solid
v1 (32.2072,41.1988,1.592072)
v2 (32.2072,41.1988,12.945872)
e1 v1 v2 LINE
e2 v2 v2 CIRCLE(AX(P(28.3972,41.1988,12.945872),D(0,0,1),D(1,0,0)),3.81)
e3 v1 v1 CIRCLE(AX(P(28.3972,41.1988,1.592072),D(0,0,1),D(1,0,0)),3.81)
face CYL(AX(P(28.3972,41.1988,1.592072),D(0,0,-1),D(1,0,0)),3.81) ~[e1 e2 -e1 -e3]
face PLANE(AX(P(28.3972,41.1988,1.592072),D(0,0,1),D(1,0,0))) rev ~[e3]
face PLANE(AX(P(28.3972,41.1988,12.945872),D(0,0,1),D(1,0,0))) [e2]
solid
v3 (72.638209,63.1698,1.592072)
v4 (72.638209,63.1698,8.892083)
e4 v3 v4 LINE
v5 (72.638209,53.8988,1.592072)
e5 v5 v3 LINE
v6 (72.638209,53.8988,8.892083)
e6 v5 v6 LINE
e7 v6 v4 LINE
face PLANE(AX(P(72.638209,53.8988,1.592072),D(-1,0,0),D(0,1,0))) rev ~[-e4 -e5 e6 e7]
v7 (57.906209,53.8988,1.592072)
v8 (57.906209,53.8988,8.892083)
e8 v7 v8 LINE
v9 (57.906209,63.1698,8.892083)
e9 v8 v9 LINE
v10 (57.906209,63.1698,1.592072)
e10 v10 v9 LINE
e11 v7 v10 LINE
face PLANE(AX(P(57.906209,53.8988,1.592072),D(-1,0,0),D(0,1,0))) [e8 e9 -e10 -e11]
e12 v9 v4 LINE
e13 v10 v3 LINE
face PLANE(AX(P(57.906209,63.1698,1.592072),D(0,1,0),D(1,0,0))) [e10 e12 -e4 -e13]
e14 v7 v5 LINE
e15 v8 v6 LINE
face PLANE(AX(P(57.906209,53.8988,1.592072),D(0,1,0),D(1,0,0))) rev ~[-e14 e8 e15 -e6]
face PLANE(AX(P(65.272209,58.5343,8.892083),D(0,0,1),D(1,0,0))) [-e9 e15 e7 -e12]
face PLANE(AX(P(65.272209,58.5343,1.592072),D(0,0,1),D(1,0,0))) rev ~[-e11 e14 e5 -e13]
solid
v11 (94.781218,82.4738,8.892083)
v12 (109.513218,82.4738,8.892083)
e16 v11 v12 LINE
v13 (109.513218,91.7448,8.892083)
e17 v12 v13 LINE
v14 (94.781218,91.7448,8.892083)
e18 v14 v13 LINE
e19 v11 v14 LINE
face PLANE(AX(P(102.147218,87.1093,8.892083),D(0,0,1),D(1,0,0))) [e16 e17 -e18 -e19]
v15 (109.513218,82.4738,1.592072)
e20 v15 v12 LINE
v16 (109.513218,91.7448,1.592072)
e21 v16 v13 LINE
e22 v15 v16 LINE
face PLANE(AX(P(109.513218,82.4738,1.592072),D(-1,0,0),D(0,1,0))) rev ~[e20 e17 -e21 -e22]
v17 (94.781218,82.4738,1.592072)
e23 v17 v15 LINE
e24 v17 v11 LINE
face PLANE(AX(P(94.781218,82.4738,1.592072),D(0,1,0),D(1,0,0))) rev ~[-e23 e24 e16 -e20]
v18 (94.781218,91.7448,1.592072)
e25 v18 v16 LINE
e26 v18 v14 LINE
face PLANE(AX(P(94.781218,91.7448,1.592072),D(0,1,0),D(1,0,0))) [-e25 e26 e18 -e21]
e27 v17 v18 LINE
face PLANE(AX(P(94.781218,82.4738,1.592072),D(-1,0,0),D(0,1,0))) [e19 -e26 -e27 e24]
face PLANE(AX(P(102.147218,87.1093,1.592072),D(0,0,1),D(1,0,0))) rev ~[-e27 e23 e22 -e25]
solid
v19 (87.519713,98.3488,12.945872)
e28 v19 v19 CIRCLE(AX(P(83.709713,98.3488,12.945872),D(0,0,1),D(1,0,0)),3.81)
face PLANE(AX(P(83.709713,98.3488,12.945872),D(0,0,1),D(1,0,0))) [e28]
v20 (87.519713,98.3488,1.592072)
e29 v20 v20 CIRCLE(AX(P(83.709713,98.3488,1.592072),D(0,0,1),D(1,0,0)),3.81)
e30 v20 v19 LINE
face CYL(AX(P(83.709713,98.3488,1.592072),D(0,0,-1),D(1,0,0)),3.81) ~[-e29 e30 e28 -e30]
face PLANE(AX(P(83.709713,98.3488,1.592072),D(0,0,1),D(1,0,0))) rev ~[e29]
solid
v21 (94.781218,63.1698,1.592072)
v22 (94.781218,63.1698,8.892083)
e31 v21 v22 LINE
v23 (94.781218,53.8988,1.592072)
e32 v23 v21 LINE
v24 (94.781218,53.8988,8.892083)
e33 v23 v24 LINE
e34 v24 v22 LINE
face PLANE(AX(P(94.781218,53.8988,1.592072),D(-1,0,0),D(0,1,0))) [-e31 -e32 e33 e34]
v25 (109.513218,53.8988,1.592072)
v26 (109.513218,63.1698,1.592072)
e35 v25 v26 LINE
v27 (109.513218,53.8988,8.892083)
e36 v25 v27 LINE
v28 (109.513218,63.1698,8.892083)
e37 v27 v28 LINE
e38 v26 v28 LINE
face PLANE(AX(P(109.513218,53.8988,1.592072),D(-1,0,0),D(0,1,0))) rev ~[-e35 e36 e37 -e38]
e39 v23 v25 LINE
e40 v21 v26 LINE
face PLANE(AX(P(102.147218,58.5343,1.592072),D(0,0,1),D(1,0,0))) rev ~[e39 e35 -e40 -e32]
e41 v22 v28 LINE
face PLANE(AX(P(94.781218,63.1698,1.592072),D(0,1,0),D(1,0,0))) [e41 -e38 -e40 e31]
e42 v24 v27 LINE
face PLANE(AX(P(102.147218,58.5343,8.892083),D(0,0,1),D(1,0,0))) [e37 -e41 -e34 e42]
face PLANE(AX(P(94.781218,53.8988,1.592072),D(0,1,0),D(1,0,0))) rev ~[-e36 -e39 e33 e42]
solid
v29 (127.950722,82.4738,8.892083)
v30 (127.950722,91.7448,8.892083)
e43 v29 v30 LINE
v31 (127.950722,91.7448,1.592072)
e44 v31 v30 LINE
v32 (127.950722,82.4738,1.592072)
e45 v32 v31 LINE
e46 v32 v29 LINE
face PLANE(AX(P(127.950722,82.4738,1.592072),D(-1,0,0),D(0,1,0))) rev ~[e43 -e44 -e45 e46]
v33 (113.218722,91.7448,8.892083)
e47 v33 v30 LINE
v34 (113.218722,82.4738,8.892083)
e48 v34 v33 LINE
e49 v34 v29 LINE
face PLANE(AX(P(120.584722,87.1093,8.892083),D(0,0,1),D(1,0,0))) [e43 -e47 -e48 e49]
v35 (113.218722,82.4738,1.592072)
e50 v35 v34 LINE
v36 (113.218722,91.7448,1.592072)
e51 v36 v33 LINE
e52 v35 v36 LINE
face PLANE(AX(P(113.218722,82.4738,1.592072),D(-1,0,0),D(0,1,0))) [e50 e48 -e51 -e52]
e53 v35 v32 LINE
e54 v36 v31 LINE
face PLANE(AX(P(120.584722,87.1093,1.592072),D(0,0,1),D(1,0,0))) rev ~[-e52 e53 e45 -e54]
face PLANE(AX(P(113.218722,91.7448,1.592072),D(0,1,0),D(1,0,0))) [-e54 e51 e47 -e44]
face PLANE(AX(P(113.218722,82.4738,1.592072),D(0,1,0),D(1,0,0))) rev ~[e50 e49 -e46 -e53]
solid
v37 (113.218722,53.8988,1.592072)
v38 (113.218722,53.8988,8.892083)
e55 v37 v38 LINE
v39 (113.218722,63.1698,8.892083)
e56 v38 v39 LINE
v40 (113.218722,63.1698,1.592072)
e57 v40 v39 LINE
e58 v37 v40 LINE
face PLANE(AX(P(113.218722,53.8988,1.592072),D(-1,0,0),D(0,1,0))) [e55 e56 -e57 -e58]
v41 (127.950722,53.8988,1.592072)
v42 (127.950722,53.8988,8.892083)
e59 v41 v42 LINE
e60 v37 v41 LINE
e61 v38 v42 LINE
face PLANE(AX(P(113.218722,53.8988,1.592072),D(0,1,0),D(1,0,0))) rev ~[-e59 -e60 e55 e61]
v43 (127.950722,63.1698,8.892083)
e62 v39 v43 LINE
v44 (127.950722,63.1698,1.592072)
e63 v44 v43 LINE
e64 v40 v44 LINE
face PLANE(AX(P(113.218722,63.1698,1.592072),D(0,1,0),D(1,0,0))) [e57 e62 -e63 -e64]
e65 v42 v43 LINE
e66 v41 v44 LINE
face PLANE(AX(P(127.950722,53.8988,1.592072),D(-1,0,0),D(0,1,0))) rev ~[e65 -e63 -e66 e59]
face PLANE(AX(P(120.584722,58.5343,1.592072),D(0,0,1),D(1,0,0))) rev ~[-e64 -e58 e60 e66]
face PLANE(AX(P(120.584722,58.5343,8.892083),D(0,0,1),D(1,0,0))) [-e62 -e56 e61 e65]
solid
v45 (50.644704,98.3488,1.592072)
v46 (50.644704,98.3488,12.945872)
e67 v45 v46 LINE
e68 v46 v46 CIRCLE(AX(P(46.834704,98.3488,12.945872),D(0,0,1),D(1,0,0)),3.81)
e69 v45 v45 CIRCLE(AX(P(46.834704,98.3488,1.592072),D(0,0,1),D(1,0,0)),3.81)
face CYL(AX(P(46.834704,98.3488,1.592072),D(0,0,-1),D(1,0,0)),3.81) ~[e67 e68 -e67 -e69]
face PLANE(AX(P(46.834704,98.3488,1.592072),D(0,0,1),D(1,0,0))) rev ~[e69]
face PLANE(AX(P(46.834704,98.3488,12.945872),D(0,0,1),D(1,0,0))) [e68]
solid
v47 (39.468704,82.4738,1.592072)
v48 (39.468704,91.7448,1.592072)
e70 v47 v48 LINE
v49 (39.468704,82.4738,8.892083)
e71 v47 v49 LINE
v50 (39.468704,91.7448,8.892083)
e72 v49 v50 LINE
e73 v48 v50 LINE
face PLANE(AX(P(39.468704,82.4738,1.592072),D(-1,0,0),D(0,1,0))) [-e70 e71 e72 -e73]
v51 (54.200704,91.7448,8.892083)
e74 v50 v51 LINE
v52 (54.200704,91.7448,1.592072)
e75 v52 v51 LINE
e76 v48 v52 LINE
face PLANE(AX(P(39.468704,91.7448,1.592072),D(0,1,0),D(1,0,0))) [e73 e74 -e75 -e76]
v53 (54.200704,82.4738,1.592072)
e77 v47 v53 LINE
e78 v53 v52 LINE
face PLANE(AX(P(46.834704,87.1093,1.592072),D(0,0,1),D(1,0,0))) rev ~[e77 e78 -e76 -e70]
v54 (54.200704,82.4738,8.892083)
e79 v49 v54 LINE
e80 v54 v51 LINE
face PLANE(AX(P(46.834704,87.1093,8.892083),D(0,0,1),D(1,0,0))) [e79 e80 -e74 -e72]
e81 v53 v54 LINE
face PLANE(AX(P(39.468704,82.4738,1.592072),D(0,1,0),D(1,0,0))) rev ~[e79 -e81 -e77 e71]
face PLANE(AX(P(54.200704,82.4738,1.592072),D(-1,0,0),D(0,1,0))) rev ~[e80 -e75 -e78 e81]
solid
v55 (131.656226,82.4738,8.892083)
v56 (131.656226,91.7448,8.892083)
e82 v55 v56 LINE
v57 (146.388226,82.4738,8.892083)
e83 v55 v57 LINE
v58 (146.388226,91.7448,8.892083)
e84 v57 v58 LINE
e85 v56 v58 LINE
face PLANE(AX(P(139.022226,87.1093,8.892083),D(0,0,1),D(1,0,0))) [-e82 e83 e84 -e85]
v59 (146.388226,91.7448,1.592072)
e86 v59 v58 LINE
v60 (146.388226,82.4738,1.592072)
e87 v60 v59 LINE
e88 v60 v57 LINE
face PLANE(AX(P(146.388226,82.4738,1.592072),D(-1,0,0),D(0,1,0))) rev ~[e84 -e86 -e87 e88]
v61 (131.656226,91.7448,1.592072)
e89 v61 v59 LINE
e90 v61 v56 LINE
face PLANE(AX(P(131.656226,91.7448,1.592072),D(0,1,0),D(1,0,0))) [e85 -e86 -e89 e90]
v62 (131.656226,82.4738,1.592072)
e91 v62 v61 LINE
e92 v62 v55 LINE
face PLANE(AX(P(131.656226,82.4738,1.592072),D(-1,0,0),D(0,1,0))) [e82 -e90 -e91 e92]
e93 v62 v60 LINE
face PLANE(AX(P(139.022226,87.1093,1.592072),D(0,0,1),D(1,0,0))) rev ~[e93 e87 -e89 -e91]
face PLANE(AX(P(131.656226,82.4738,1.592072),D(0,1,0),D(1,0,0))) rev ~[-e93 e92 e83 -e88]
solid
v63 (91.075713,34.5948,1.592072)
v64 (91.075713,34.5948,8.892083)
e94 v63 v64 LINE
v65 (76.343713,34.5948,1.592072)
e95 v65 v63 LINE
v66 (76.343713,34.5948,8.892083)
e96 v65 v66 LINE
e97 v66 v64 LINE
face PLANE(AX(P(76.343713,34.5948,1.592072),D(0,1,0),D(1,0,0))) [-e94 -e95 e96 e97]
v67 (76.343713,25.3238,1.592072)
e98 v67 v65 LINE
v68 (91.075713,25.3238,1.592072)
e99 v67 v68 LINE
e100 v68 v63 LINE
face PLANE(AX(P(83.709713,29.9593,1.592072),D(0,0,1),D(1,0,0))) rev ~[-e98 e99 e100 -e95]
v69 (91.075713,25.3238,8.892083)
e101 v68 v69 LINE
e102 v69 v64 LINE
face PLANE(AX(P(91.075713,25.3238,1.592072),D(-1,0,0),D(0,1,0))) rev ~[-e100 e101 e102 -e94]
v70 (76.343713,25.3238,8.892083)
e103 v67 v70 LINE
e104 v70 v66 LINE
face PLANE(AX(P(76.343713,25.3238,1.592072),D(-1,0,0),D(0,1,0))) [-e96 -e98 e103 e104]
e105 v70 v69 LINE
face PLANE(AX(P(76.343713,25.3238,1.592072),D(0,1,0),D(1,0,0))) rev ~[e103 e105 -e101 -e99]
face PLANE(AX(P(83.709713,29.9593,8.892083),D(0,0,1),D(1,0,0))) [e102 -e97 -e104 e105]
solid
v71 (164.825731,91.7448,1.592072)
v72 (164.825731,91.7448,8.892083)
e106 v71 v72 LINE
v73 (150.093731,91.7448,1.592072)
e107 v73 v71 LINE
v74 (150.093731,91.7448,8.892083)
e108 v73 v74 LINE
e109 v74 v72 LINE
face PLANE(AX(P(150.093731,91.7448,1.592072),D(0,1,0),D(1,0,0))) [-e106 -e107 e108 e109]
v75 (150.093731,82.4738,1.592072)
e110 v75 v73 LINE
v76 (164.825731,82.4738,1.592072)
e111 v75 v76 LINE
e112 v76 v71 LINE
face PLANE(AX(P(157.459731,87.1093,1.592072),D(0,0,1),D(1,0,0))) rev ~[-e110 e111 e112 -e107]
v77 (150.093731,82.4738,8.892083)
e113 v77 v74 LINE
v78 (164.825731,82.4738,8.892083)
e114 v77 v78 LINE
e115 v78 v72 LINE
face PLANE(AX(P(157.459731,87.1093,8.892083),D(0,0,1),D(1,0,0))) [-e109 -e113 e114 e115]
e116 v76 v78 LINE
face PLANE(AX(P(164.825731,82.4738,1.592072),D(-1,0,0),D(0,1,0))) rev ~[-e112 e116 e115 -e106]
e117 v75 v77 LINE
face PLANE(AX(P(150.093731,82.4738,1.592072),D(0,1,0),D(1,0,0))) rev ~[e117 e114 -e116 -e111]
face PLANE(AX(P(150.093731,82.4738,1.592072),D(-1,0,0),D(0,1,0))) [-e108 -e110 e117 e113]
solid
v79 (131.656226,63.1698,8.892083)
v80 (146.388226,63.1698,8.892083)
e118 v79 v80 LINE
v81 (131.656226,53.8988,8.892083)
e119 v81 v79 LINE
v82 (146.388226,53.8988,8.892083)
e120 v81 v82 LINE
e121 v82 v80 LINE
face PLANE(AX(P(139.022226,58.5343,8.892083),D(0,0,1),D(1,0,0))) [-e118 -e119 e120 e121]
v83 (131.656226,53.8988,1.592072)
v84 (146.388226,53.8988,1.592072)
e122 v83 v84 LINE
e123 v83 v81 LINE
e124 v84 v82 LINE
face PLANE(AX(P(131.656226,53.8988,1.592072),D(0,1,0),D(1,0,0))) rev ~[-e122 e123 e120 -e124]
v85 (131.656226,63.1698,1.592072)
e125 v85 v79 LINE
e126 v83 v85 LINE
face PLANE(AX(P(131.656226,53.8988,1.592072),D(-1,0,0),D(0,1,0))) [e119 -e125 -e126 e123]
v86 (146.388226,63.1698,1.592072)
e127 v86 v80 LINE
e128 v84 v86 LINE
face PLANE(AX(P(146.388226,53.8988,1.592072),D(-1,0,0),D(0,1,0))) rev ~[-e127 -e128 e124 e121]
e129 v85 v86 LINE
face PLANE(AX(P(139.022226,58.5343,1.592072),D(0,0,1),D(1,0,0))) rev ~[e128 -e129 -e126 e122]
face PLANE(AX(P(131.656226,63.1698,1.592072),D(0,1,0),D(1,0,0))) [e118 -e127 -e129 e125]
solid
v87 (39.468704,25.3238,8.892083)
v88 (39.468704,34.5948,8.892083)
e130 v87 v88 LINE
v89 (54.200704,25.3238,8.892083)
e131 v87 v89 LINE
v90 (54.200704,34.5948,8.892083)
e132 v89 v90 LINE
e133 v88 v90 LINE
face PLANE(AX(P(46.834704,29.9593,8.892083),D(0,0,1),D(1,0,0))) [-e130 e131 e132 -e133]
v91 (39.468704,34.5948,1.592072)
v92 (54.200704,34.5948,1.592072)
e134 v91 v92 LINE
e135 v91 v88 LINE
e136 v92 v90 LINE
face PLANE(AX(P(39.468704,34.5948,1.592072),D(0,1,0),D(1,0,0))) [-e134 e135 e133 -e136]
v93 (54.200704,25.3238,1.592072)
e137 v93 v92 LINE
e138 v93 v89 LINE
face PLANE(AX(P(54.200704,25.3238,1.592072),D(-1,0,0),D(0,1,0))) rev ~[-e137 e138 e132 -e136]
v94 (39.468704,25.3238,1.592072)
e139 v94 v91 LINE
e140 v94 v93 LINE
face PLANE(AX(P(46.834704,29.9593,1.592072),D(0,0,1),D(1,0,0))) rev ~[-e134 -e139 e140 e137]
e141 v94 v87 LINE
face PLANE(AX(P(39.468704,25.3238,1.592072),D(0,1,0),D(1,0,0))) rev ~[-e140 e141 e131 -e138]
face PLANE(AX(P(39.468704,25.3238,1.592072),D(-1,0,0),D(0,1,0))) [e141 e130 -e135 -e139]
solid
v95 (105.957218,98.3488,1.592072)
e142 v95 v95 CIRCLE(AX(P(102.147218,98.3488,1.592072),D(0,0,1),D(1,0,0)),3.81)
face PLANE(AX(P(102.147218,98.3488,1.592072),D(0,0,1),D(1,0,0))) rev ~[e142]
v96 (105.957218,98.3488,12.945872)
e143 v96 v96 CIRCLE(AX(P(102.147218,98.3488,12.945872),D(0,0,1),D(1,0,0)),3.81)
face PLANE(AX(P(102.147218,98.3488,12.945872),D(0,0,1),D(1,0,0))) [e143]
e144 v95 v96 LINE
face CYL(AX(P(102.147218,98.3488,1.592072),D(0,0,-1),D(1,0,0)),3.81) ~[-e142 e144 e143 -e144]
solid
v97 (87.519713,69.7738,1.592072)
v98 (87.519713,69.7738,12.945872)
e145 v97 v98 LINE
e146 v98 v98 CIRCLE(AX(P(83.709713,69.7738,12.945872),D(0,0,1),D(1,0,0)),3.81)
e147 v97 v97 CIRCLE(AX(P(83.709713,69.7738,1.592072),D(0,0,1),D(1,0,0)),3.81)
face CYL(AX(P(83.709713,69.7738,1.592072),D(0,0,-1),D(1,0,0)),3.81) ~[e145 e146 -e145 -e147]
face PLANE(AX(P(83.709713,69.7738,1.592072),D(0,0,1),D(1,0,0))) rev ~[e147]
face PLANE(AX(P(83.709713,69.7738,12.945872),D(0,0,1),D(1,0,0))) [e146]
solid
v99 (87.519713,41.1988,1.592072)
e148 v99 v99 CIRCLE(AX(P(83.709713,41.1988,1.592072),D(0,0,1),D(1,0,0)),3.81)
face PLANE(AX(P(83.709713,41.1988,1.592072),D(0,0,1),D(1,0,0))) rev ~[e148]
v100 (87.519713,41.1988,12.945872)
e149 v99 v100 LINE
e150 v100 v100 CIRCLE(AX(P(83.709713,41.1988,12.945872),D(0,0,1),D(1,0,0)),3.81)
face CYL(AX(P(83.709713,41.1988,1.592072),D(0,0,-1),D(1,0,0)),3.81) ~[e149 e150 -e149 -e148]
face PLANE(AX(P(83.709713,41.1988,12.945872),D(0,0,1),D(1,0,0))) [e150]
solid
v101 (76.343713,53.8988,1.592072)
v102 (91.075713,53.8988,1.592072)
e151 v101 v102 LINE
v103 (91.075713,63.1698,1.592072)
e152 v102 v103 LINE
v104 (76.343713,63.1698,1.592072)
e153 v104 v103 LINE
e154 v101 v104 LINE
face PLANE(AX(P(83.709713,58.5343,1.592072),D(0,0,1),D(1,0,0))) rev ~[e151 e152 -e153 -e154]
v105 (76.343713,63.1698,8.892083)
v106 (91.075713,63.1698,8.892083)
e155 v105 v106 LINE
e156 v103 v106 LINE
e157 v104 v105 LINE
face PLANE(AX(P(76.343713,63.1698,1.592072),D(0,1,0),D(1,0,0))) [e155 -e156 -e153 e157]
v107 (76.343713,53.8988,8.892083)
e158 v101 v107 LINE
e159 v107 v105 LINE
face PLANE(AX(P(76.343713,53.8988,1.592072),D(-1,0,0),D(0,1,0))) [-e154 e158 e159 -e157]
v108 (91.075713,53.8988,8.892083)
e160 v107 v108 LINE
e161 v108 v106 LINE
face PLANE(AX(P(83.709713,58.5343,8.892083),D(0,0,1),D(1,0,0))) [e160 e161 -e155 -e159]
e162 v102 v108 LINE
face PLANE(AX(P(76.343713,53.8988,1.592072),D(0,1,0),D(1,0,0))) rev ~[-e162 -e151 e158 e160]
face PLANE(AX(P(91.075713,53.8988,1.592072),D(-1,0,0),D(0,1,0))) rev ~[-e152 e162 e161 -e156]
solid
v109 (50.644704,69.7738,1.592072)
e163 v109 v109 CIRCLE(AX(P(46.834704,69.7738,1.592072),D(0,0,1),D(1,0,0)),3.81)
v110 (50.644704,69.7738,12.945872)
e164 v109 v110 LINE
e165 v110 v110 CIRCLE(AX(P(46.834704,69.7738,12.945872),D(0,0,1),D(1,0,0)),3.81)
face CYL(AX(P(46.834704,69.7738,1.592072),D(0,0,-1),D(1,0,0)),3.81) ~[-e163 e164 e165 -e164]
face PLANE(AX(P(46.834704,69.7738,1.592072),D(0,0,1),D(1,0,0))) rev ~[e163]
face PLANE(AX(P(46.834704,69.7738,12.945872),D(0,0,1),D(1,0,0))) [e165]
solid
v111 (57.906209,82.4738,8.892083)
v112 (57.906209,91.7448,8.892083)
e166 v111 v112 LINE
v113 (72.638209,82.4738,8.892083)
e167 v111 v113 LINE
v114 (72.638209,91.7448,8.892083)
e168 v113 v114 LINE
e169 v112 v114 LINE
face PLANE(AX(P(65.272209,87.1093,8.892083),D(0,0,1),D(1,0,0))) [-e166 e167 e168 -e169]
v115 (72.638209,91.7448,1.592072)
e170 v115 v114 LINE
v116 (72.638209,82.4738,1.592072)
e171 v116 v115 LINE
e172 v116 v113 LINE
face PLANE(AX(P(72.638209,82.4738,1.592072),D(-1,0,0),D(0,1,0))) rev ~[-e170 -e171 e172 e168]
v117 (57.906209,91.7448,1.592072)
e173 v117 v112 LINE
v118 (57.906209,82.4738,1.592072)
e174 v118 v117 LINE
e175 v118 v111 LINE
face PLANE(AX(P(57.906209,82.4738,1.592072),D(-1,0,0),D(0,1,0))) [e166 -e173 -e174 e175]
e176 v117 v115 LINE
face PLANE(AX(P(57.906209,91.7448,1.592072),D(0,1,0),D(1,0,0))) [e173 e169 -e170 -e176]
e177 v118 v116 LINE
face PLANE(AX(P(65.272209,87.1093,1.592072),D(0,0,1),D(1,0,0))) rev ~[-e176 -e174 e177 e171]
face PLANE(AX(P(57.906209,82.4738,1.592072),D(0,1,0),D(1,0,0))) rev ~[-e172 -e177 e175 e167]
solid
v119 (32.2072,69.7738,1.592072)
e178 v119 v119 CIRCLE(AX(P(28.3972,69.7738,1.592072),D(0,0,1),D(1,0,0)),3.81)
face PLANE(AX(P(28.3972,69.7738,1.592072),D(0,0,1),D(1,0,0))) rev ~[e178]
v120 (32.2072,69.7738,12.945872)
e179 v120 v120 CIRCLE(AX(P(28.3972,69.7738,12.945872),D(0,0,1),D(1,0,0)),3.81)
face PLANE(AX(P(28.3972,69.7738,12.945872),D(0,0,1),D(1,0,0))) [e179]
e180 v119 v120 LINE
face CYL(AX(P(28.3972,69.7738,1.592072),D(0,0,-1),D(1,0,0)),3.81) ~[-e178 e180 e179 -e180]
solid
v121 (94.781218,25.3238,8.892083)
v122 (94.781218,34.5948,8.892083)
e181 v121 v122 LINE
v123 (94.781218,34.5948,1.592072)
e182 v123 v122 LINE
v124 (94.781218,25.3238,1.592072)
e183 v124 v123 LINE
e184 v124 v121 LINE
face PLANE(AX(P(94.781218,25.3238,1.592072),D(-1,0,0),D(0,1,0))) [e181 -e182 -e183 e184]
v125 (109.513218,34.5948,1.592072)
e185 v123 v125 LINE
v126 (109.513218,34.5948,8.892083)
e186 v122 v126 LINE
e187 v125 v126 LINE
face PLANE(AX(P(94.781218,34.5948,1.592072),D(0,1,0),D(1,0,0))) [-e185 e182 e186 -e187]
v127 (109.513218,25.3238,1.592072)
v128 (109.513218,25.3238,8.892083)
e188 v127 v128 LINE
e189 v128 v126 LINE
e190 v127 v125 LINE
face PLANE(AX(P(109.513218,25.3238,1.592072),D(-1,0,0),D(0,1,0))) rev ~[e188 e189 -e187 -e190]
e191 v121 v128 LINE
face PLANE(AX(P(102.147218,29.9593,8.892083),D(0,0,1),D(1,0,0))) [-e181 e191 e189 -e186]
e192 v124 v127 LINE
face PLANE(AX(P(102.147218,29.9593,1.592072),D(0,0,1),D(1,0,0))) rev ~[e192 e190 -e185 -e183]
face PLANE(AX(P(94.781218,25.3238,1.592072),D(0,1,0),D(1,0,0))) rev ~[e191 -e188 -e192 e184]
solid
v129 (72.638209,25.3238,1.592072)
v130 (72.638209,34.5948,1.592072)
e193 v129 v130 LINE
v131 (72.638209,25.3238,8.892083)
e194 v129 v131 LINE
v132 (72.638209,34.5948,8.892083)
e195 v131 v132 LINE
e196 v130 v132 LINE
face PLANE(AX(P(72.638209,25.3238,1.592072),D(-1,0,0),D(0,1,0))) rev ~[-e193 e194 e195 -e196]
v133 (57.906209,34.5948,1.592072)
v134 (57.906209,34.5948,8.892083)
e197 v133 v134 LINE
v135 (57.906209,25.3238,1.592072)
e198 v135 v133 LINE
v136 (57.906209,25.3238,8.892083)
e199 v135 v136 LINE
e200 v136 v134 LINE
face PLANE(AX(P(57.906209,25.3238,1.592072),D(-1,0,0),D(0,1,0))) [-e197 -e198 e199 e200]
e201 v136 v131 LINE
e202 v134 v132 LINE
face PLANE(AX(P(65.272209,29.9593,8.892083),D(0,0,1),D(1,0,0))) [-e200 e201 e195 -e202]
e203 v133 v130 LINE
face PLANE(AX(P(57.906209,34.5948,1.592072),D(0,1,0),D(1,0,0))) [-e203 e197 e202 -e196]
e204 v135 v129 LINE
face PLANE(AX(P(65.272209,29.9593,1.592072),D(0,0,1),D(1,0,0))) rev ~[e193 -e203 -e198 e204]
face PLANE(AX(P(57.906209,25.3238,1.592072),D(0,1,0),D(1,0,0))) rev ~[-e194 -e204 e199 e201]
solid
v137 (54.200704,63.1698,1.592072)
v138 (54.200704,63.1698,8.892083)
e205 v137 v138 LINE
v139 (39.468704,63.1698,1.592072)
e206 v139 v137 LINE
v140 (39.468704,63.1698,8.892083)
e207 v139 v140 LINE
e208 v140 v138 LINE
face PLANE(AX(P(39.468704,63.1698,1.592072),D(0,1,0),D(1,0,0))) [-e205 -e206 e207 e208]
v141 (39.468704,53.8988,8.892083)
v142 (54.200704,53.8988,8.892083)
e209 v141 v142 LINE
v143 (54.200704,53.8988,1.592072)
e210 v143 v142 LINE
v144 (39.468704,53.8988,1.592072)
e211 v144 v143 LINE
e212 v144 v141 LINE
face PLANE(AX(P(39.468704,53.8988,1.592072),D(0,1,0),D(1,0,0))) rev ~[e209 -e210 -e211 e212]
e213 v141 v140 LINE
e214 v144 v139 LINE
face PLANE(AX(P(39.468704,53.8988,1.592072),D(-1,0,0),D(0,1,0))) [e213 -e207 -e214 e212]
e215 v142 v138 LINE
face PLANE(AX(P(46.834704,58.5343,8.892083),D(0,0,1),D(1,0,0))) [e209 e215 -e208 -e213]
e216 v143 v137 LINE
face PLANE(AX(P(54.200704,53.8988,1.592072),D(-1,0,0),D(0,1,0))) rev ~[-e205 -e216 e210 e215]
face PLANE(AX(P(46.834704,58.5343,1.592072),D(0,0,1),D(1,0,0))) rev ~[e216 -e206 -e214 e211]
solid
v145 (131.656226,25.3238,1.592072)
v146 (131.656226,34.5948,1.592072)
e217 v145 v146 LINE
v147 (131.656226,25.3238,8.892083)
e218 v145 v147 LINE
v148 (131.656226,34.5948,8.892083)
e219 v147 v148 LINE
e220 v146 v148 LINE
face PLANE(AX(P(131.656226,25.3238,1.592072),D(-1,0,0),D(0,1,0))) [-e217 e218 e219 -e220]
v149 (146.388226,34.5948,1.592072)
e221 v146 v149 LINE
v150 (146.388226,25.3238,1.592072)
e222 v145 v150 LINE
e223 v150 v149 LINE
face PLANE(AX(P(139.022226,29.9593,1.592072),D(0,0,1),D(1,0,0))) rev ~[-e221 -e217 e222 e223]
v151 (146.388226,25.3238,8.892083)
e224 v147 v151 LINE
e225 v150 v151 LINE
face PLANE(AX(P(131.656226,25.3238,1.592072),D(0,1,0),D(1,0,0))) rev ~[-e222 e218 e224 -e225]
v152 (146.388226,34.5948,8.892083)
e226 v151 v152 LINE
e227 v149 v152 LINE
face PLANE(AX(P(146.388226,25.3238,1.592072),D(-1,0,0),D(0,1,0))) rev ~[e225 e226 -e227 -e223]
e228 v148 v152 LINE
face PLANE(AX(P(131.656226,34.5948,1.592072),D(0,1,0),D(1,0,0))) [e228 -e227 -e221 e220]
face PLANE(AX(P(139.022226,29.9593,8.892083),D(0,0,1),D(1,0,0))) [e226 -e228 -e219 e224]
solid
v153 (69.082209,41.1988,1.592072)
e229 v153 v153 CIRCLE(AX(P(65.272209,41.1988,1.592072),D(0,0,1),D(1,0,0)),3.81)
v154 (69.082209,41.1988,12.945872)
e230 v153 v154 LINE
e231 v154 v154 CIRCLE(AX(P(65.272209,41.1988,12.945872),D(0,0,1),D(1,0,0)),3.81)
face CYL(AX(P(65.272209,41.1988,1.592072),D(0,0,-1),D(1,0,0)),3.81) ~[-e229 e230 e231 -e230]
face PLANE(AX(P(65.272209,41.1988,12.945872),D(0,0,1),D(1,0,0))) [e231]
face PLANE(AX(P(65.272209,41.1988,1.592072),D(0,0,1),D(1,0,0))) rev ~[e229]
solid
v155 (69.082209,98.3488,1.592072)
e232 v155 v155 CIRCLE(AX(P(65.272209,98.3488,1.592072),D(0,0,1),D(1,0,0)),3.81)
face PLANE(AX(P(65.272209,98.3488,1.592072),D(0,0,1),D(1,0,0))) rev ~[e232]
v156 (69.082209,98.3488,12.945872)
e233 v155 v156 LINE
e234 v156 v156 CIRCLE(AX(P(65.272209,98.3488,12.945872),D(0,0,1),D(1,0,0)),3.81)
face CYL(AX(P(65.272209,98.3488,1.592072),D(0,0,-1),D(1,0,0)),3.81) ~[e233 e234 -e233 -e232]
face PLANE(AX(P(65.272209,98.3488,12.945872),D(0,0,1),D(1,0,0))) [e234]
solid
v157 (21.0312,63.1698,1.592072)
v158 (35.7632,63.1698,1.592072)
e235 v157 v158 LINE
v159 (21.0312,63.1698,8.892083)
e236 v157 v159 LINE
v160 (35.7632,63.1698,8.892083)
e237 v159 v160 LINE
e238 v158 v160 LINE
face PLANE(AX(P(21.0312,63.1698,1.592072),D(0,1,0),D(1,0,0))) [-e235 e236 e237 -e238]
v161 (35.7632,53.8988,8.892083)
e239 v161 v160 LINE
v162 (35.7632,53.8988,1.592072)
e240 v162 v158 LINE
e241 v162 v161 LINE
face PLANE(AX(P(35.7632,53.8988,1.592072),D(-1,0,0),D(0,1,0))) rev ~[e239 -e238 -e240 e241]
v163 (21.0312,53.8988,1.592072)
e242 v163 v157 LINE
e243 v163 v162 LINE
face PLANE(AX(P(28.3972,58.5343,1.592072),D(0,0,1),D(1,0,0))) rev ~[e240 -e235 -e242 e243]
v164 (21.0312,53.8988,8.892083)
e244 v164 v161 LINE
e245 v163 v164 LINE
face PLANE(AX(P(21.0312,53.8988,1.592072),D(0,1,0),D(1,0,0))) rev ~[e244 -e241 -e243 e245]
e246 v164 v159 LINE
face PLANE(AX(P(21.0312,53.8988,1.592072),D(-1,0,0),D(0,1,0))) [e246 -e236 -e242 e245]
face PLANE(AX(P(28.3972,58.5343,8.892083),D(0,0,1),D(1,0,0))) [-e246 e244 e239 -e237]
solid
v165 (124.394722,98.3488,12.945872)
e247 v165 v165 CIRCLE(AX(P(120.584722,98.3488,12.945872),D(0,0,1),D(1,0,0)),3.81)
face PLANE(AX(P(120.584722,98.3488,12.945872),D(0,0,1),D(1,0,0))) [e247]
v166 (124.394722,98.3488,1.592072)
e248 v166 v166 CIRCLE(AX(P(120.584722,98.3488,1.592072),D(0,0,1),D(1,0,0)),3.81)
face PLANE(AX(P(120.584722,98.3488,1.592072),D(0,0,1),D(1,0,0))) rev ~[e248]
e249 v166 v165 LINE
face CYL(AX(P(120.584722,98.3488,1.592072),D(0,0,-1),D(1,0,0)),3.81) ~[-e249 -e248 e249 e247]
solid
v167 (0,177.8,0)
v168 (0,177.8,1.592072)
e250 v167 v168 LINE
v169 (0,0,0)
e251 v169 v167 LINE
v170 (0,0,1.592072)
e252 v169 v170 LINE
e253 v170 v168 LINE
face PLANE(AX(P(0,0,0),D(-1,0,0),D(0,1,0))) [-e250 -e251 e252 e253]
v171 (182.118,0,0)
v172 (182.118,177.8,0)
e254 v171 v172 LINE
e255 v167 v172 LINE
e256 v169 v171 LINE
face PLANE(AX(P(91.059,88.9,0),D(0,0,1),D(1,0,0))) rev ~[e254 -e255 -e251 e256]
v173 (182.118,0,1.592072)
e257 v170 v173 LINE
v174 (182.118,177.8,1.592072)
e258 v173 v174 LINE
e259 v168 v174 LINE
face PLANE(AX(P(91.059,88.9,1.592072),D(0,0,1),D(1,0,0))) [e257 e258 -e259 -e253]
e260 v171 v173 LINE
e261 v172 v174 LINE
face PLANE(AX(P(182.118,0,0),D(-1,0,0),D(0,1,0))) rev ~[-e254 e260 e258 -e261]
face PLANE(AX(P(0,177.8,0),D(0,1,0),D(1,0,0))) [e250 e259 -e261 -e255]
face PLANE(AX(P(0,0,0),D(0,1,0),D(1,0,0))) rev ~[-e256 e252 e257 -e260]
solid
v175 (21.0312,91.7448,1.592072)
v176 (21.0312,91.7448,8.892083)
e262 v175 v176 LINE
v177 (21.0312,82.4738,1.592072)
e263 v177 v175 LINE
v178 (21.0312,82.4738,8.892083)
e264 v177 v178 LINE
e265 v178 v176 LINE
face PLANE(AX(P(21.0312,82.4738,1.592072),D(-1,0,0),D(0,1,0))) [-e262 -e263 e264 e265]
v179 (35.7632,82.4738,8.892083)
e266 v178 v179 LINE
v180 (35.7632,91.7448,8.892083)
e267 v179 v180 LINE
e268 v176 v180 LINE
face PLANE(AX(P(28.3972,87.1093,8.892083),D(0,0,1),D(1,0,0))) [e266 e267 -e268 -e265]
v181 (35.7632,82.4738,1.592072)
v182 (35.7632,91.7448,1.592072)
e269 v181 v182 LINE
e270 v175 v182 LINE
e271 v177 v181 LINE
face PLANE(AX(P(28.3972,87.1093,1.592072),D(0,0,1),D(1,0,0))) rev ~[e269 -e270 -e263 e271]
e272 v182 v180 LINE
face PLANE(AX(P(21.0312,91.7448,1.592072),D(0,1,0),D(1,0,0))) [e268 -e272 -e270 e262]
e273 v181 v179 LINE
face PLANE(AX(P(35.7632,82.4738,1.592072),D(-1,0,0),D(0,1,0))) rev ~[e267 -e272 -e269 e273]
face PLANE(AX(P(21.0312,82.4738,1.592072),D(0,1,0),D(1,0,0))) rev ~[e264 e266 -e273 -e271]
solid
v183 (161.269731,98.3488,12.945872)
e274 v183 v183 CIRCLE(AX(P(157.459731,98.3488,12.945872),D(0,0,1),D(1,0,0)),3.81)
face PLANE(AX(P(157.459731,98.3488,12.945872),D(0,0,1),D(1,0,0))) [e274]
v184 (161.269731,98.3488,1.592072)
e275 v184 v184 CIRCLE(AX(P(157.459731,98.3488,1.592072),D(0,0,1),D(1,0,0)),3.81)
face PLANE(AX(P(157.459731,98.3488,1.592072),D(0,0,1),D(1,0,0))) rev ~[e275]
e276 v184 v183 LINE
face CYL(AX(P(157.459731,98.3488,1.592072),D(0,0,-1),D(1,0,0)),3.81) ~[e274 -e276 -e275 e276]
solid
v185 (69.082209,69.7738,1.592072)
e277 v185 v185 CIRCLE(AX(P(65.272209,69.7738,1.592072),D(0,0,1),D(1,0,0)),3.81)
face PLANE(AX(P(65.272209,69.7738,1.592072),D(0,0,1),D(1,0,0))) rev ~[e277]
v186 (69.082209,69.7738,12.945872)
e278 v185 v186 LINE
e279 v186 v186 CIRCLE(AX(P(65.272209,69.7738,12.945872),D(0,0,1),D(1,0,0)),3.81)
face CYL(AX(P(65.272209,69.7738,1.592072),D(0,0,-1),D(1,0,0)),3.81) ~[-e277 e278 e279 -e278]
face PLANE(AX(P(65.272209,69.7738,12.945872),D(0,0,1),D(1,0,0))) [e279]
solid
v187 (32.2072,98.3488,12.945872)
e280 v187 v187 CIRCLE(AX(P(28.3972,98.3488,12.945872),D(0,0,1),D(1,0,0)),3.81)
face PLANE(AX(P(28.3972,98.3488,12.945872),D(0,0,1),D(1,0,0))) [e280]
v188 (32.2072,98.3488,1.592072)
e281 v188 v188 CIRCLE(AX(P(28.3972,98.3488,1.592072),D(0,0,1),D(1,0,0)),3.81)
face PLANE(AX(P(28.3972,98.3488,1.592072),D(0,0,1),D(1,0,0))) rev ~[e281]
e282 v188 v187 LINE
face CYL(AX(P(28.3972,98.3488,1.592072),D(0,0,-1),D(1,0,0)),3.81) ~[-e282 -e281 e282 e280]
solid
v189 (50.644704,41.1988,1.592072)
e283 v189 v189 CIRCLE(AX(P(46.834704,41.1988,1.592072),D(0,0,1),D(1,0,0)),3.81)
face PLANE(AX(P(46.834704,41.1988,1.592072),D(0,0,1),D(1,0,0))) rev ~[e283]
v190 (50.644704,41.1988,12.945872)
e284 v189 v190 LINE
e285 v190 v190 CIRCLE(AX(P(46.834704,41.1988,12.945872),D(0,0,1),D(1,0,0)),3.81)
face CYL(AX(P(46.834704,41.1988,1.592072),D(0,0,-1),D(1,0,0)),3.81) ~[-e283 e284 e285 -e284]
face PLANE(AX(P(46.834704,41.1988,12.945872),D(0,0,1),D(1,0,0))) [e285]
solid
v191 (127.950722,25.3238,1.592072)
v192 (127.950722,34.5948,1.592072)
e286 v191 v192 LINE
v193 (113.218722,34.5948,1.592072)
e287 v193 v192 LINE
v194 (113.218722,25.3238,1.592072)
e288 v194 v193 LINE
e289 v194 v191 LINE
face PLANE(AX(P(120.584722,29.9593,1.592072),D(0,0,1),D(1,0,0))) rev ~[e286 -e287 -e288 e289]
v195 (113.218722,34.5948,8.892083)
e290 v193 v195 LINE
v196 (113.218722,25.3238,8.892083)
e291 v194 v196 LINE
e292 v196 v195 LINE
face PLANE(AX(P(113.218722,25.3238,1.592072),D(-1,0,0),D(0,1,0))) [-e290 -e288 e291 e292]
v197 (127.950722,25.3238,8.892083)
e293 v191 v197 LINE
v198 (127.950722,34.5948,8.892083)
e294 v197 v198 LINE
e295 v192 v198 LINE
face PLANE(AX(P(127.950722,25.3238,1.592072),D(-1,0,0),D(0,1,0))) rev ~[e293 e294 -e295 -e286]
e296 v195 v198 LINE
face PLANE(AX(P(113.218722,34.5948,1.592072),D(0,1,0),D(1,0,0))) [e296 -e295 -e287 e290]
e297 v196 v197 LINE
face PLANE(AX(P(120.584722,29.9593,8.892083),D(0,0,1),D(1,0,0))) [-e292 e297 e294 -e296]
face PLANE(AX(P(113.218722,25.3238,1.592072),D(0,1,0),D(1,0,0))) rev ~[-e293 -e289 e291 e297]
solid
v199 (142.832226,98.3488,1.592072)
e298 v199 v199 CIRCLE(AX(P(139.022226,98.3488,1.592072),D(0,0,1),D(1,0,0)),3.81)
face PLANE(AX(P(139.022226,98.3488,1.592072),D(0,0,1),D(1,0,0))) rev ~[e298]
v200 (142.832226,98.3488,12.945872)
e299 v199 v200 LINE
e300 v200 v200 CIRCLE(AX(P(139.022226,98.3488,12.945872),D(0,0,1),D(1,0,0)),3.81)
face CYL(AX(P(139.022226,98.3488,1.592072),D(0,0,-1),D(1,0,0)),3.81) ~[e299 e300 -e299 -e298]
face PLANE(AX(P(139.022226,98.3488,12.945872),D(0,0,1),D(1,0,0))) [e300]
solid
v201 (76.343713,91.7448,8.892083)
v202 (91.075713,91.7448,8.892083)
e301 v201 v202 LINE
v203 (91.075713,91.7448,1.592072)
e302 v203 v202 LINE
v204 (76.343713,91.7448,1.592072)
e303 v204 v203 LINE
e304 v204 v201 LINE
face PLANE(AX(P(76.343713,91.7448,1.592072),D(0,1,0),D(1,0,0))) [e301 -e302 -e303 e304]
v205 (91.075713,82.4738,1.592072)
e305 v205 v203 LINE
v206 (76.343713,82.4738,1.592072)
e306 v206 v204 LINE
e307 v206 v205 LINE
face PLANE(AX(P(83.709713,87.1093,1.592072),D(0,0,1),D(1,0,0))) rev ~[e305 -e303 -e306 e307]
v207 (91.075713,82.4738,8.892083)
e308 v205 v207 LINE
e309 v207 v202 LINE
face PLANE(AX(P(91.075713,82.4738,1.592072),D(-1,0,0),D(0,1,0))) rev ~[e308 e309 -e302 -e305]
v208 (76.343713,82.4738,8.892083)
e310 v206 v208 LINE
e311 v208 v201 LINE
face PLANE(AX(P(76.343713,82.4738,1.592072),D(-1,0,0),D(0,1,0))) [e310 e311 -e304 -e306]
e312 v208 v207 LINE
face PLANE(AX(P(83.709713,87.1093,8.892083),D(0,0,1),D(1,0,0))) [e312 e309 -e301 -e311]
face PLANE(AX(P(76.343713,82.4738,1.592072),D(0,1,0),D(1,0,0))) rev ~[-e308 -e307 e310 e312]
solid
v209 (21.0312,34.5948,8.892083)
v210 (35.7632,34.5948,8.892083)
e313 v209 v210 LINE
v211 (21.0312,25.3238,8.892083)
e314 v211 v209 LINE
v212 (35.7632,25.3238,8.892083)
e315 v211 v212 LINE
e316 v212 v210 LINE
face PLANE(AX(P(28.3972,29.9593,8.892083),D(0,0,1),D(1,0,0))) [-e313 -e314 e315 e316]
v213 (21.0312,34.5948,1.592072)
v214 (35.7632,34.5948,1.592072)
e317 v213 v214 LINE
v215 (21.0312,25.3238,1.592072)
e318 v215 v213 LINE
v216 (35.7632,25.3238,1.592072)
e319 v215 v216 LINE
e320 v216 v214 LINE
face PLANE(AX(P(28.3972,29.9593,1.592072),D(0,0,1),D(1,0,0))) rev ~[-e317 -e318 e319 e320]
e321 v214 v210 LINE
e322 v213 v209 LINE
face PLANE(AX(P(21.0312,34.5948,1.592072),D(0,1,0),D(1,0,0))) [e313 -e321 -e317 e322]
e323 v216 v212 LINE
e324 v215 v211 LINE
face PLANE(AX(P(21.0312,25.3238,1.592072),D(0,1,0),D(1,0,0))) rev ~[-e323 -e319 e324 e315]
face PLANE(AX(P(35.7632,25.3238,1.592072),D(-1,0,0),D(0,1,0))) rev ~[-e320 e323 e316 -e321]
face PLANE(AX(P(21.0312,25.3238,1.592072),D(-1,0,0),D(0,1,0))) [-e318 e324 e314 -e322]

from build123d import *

# Parameters (mm, degrees)
SKETCH1_W                       = 182.118
SKETCH1_H                       = 177.8
BOARD_DEPTH                     = 1.592072
SKETCH2_R                       = 3.81
LED_KINGBRIGHT_3P_2P54_1_DEPTH  = 11.3538
SKETCH3_R                       = 3.81
LED_KINGBRIGHT_3P_2P54_2_DEPTH  = 11.3538
SKETCH4_R                       = 3.81
LED_KINGBRIGHT_3P_2P54_3_DEPTH  = 11.3538
SKETCH5_R                       = 3.81
LED_KINGBRIGHT_3P_2P54_4_DEPTH  = 11.3538
SKETCH6_R                       = 3.81
LED_KINGBRIGHT_3P_2P54_5_DEPTH  = 11.3538
SKETCH7_R                       = 3.81
LED_KINGBRIGHT_3P_2P54_6_DEPTH  = 11.3538
SKETCH8_R                       = 3.81
LED_KINGBRIGHT_3P_2P54_7_DEPTH  = 11.3538
SKETCH9_R                       = 3.81
LED_KINGBRIGHT_3P_2P54_8_DEPTH  = 11.3538
SKETCH10_R                      = 3.81
LED_KINGBRIGHT_3P_2P54_9_DEPTH  = 11.3538
SKETCH11_R                      = 3.81
LED_KINGBRIGHT_3P_2P54_10_DEPTH = 11.3538
SKETCH12_R                      = 3.81
LED_KINGBRIGHT_3P_2P54_11_DEPTH = 11.3538
SKETCH13_R                      = 3.81
LED_KINGBRIGHT_3P_2P54_12_DEPTH = 11.3538
SKETCH14_R                      = 3.81
LED_KINGBRIGHT_3P_2P54_13_DEPTH = 11.3538
SKETCH15_R                      = 3.81
LED_KINGBRIGHT_3P_2P54_14_DEPTH = 11.3538
SKETCH16_R                      = 3.81
LED_KINGBRIGHT_3P_2P54_15_DEPTH = 11.3538
SKETCH17_R                      = 3.81
LED_KINGBRIGHT_3P_2P54_16_DEPTH = 11.3538
SKETCH18_W                      = 14.732
SKETCH18_H                      = 9.271
SWITCH_MCDTS2_1_DEPTH           = 7.3000108
SKETCH19_W                      = 14.732
SKETCH19_H                      = 9.271
SWITCH_MCDTS2_2_DEPTH           = 7.3000108
SKETCH20_W                      = 14.732
SKETCH20_H                      = 9.271
SWITCH_MCDTS2_3_DEPTH           = 7.3000108
SKETCH21_W                      = 14.732
SKETCH21_H                      = 9.271
SWITCH_MCDTS2_4_DEPTH           = 7.3000108
SKETCH22_W                      = 14.732
SKETCH22_H                      = 9.271
SWITCH_MCDTS2_5_DEPTH           = 7.3000108
SKETCH23_W                      = 14.732
SKETCH23_H                      = 9.271
SWITCH_MCDTS2_6_DEPTH           = 7.3000108
SKETCH24_W                      = 14.732
SKETCH24_H                      = 9.271
SWITCH_MCDTS2_7_DEPTH           = 7.3000108
SKETCH25_W                      = 14.732
SKETCH25_H                      = 9.271
SWITCH_MCDTS2_8_DEPTH           = 7.3000108
SKETCH26_W                      = 14.732
SKETCH26_H                      = 9.271
SWITCH_MCDTS2_9_DEPTH           = 7.3000108
SKETCH27_W                      = 14.732
SKETCH27_H                      = 9.271
SWITCH_MCDTS2_10_DEPTH          = 7.3000108
SKETCH28_W                      = 14.732
SKETCH28_H                      = 9.271
SWITCH_MCDTS2_11_DEPTH          = 7.3000108
SKETCH29_W                      = 14.732
SKETCH29_H                      = 9.271
SWITCH_MCDTS2_12_DEPTH          = 7.3000108
SKETCH30_W                      = 14.732
SKETCH30_H                      = 9.271
SWITCH_MCDTS2_13_DEPTH          = 7.3000108
SKETCH31_W                      = 14.732
SKETCH31_H                      = 9.271
SWITCH_MCDTS2_14_DEPTH          = 7.3000108
SKETCH32_W                      = 14.732
SKETCH32_H                      = 9.271
SWITCH_MCDTS2_15_DEPTH          = 7.3000108
SKETCH33_W                      = 14.732
SKETCH33_H                      = 9.271
SWITCH_MCDTS2_16_DEPTH          = 7.3000108
SKETCH34_W                      = 14.732
SKETCH34_H                      = 9.271
SWITCH_MCDTS2_17_DEPTH          = 7.3000108
SKETCH35_W                      = 14.732
SKETCH35_H                      = 9.271
SWITCH_MCDTS2_18_DEPTH          = 7.3000108
SKETCH36_W                      = 14.732
SKETCH36_H                      = 9.271
SWITCH_MCDTS2_19_DEPTH          = 7.3000108
SKETCH37_W                      = 14.732
SKETCH37_H                      = 9.271
SWITCH_MCDTS2_20_DEPTH          = 7.3000108
SKETCH38_W                      = 14.732
SKETCH38_H                      = 9.271
SWITCH_MCDTS2_21_DEPTH          = 7.3000108
SKETCH39_W                      = 14.732
SKETCH39_H                      = 9.271
SWITCH_MCDTS2_22_DEPTH          = 7.3000108


with BuildPart() as part:
    # Sketch1 → BOARD (new body)
    with BuildSketch(Plane.XY):
        with Locations((91.059, 88.9)):
            Rectangle(SKETCH1_W, SKETCH1_H)
    extrude(amount=BOARD_DEPTH)


with BuildPart() as body_2:
    # Sketch2 → LED-KINGBRIGHT_3P_2P54-1 (new body)
    with BuildSketch(Plane.XY.offset(1.592072)):
        with Locations((83.7097132, 41.1988)):
            Circle(SKETCH2_R)
    extrude(amount=LED_KINGBRIGHT_3P_2P54_1_DEPTH)


with BuildPart() as body_3:
    # Sketch3 → LED-KINGBRIGHT_3P_2P54-2 (new body)
    with BuildSketch(Plane.XY.offset(1.592072)):
        with Locations((65.2722088, 41.1988)):
            Circle(SKETCH3_R)
    extrude(amount=LED_KINGBRIGHT_3P_2P54_2_DEPTH)


with BuildPart() as body_4:
    # Sketch4 → LED-KINGBRIGHT_3P_2P54-3 (new body)
    with BuildSketch(Plane.XY.offset(1.592072)):
        with Locations((46.8347044, 41.1988)):
            Circle(SKETCH4_R)
    extrude(amount=LED_KINGBRIGHT_3P_2P54_3_DEPTH)


with BuildPart() as body_5:
    # Sketch5 → LED-KINGBRIGHT_3P_2P54-4 (new body)
    with BuildSketch(Plane.XY.offset(1.592072)):
        with Locations((28.3972, 41.1988)):
            Circle(SKETCH5_R)
    extrude(amount=LED_KINGBRIGHT_3P_2P54_4_DEPTH)


with BuildPart() as body_6:
    # Sketch6 → LED-KINGBRIGHT_3P_2P54-5 (new body)
    with BuildSketch(Plane.XY.offset(1.592072)):
        with Locations((83.7097132, 69.7738)):
            Circle(SKETCH6_R)
    extrude(amount=LED_KINGBRIGHT_3P_2P54_5_DEPTH)


with BuildPart() as body_7:
    # Sketch7 → LED-KINGBRIGHT_3P_2P54-6 (new body)
    with BuildSketch(Plane.XY.offset(1.592072)):
        with Locations((65.2722088, 69.7738)):
            Circle(SKETCH7_R)
    extrude(amount=LED_KINGBRIGHT_3P_2P54_6_DEPTH)


with BuildPart() as body_8:
    # Sketch8 → LED-KINGBRIGHT_3P_2P54-7 (new body)
    with BuildSketch(Plane.XY.offset(1.592072)):
        with Locations((46.8347044, 69.7738)):
            Circle(SKETCH8_R)
    extrude(amount=LED_KINGBRIGHT_3P_2P54_7_DEPTH)


with BuildPart() as body_9:
    # Sketch9 → LED-KINGBRIGHT_3P_2P54-8 (new body)
    with BuildSketch(Plane.XY.offset(1.592072)):
        with Locations((28.3972, 69.7738)):
            Circle(SKETCH9_R)
    extrude(amount=LED_KINGBRIGHT_3P_2P54_8_DEPTH)


with BuildPart() as body_10:
    # Sketch10 → LED-KINGBRIGHT_3P_2P54-9 (new body)
    with BuildSketch(Plane.XY.offset(1.592072)):
        with Locations((157.4597308, 98.3488)):
            Circle(SKETCH10_R)
    extrude(amount=LED_KINGBRIGHT_3P_2P54_9_DEPTH)


with BuildPart() as body_11:
    # Sketch11 → LED-KINGBRIGHT_3P_2P54-10 (new body)
    with BuildSketch(Plane.XY.offset(1.592072)):
        with Locations((139.0222264, 98.3488)):
            Circle(SKETCH11_R)
    extrude(amount=LED_KINGBRIGHT_3P_2P54_10_DEPTH)


with BuildPart() as body_12:
    # Sketch12 → LED-KINGBRIGHT_3P_2P54-11 (new body)
    with BuildSketch(Plane.XY.offset(1.592072)):
        with Locations((120.584722, 98.3488)):
            Circle(SKETCH12_R)
    extrude(amount=LED_KINGBRIGHT_3P_2P54_11_DEPTH)


with BuildPart() as body_13:
    # Sketch13 → LED-KINGBRIGHT_3P_2P54-12 (new body)
    with BuildSketch(Plane.XY.offset(1.592072)):
        with Locations((102.1472176, 98.3488)):
            Circle(SKETCH13_R)
    extrude(amount=LED_KINGBRIGHT_3P_2P54_12_DEPTH)


with BuildPart() as body_14:
    # Sketch14 → LED-KINGBRIGHT_3P_2P54-13 (new body)
    with BuildSketch(Plane.XY.offset(1.592072)):
        with Locations((83.7097132, 98.3488)):
            Circle(SKETCH14_R)
    extrude(amount=LED_KINGBRIGHT_3P_2P54_13_DEPTH)


with BuildPart() as body_15:
    # Sketch15 → LED-KINGBRIGHT_3P_2P54-14 (new body)
    with BuildSketch(Plane.XY.offset(1.592072)):
        with Locations((65.2722088, 98.3488)):
            Circle(SKETCH15_R)
    extrude(amount=LED_KINGBRIGHT_3P_2P54_14_DEPTH)


with BuildPart() as body_16:
    # Sketch16 → LED-KINGBRIGHT_3P_2P54-15 (new body)
    with BuildSketch(Plane.XY.offset(1.592072)):
        with Locations((46.8347044, 98.3488)):
            Circle(SKETCH16_R)
    extrude(amount=LED_KINGBRIGHT_3P_2P54_15_DEPTH)


with BuildPart() as body_17:
    # Sketch17 → LED-KINGBRIGHT_3P_2P54-16 (new body)
    with BuildSketch(Plane.XY.offset(1.592072)):
        with Locations((28.3972, 98.3488)):
            Circle(SKETCH17_R)
    extrude(amount=LED_KINGBRIGHT_3P_2P54_16_DEPTH)


with BuildPart() as body_18:
    # Sketch18 → SWITCH-MCDTS2-1 (new body)
    with BuildSketch(Plane.XY.offset(1.592072)):
        with Locations((139.0222264, 29.9593)):
            Rectangle(SKETCH18_W, SKETCH18_H)
    extrude(amount=SWITCH_MCDTS2_1_DEPTH)


with BuildPart() as body_19:
    # Sketch19 → SWITCH-MCDTS2-2 (new body)
    with BuildSketch(Plane.XY.offset(1.592072)):
        with Locations((120.584722, 29.9593)):
            Rectangle(SKETCH19_W, SKETCH19_H)
    extrude(amount=SWITCH_MCDTS2_2_DEPTH)


with BuildPart() as body_20:
    # Sketch20 → SWITCH-MCDTS2-3 (new body)
    with BuildSketch(Plane.XY.offset(1.592072)):
        with Locations((102.1472176, 29.9593)):
            Rectangle(SKETCH20_W, SKETCH20_H)
    extrude(amount=SWITCH_MCDTS2_3_DEPTH)


with BuildPart() as body_21:
    # Sketch21 → SWITCH-MCDTS2-4 (new body)
    with BuildSketch(Plane.XY.offset(1.592072)):
        with Locations((83.7097132, 29.9593)):
            Rectangle(SKETCH21_W, SKETCH21_H)
    extrude(amount=SWITCH_MCDTS2_4_DEPTH)


with BuildPart() as body_22:
    # Sketch22 → SWITCH-MCDTS2-5 (new body)
    with BuildSketch(Plane.XY.offset(1.592072)):
        with Locations((65.2722088, 29.9593)):
            Rectangle(SKETCH22_W, SKETCH22_H)
    extrude(amount=SWITCH_MCDTS2_5_DEPTH)


with BuildPart() as body_23:
    # Sketch23 → SWITCH-MCDTS2-6 (new body)
    with BuildSketch(Plane.XY.offset(1.592072)):
        with Locations((46.8347044, 29.9593)):
            Rectangle(SKETCH23_W, SKETCH23_H)
    extrude(amount=SWITCH_MCDTS2_6_DEPTH)


with BuildPart() as body_24:
    # Sketch24 → SWITCH-MCDTS2-7 (new body)
    with BuildSketch(Plane.XY.offset(1.592072)):
        with Locations((28.3972, 29.9593)):
            Rectangle(SKETCH24_W, SKETCH24_H)
    extrude(amount=SWITCH_MCDTS2_7_DEPTH)


with BuildPart() as body_25:
    # Sketch25 → SWITCH-MCDTS2-8 (new body)
    with BuildSketch(Plane.XY.offset(1.592072)):
        with Locations((139.0222264, 58.5343)):
            Rectangle(SKETCH25_W, SKETCH25_H)
    extrude(amount=SWITCH_MCDTS2_8_DEPTH)


with BuildPart() as body_26:
    # Sketch26 → SWITCH-MCDTS2-9 (new body)
    with BuildSketch(Plane.XY.offset(1.592072)):
        with Locations((120.584722, 58.5343)):
            Rectangle(SKETCH26_W, SKETCH26_H)
    extrude(amount=SWITCH_MCDTS2_9_DEPTH)


with BuildPart() as body_27:
    # Sketch27 → SWITCH-MCDTS2-10 (new body)
    with BuildSketch(Plane.XY.offset(1.592072)):
        with Locations((102.1472176, 58.5343)):
            Rectangle(SKETCH27_W, SKETCH27_H)
    extrude(amount=SWITCH_MCDTS2_10_DEPTH)


with BuildPart() as body_28:
    # Sketch28 → SWITCH-MCDTS2-11 (new body)
    with BuildSketch(Plane.XY.offset(1.592072)):
        with Locations((83.7097132, 58.5343)):
            Rectangle(SKETCH28_W, SKETCH28_H)
    extrude(amount=SWITCH_MCDTS2_11_DEPTH)


with BuildPart() as body_29:
    # Sketch29 → SWITCH-MCDTS2-12 (new body)
    with BuildSketch(Plane.XY.offset(1.592072)):
        with Locations((65.2722088, 58.5343)):
            Rectangle(SKETCH29_W, SKETCH29_H)
    extrude(amount=SWITCH_MCDTS2_12_DEPTH)


with BuildPart() as body_30:
    # Sketch30 → SWITCH-MCDTS2-13 (new body)
    with BuildSketch(Plane.XY.offset(1.592072)):
        with Locations((46.8347044, 58.5343)):
            Rectangle(SKETCH30_W, SKETCH30_H)
    extrude(amount=SWITCH_MCDTS2_13_DEPTH)


with BuildPart() as body_31:
    # Sketch31 → SWITCH-MCDTS2-14 (new body)
    with BuildSketch(Plane.XY.offset(1.592072)):
        with Locations((28.3972, 58.5343)):
            Rectangle(SKETCH31_W, SKETCH31_H)
    extrude(amount=SWITCH_MCDTS2_14_DEPTH)


with BuildPart() as body_32:
    # Sketch32 → SWITCH-MCDTS2-15 (new body)
    with BuildSketch(Plane.XY.offset(1.592072)):
        with Locations((157.4597308, 87.1093)):
            Rectangle(SKETCH32_W, SKETCH32_H)
    extrude(amount=SWITCH_MCDTS2_15_DEPTH)


with BuildPart() as body_33:
    # Sketch33 → SWITCH-MCDTS2-16 (new body)
    with BuildSketch(Plane.XY.offset(1.592072)):
        with Locations((139.0222264, 87.1093)):
            Rectangle(SKETCH33_W, SKETCH33_H)
    extrude(amount=SWITCH_MCDTS2_16_DEPTH)


with BuildPart() as body_34:
    # Sketch34 → SWITCH-MCDTS2-17 (new body)
    with BuildSketch(Plane.XY.offset(1.592072)):
        with Locations((120.584722, 87.1093)):
            Rectangle(SKETCH34_W, SKETCH34_H)
    extrude(amount=SWITCH_MCDTS2_17_DEPTH)


with BuildPart() as body_35:
    # Sketch35 → SWITCH-MCDTS2-18 (new body)
    with BuildSketch(Plane.XY.offset(1.592072)):
        with Locations((102.1472176, 87.1093)):
            Rectangle(SKETCH35_W, SKETCH35_H)
    extrude(amount=SWITCH_MCDTS2_18_DEPTH)


with BuildPart() as body_36:
    # Sketch36 → SWITCH-MCDTS2-19 (new body)
    with BuildSketch(Plane.XY.offset(1.592072)):
        with Locations((83.7097132, 87.1093)):
            Rectangle(SKETCH36_W, SKETCH36_H)
    extrude(amount=SWITCH_MCDTS2_19_DEPTH)


with BuildPart() as body_37:
    # Sketch37 → SWITCH-MCDTS2-20 (new body)
    with BuildSketch(Plane.XY.offset(1.592072)):
        with Locations((65.2722088, 87.1093)):
            Rectangle(SKETCH37_W, SKETCH37_H)
    extrude(amount=SWITCH_MCDTS2_20_DEPTH)


with BuildPart() as body_38:
    # Sketch38 → SWITCH-MCDTS2-21 (new body)
    with BuildSketch(Plane.XY.offset(1.592072)):
        with Locations((46.8347044, 87.1093)):
            Rectangle(SKETCH38_W, SKETCH38_H)
    extrude(amount=SWITCH_MCDTS2_21_DEPTH)


with BuildPart() as body_39:
    # Sketch39 → SWITCH-MCDTS2-22 (new body)
    with BuildSketch(Plane.XY.offset(1.592072)):
        with Locations((28.3972, 87.1093)):
            Rectangle(SKETCH39_W, SKETCH39_H)
    extrude(amount=SWITCH_MCDTS2_22_DEPTH)


solid = Compound([part.part, body_2.part, body_3.part, body_4.part, body_5.part, body_6.part, body_7.part, body_8.part, body_9.part, body_10.part, body_11.part, body_12.part, body_13.part, body_14.part, body_15.part, body_16.part, body_17.part, body_18.part, body_19.part, body_20.part, body_21.part, body_22.part, body_23.part, body_24.part, body_25.part, body_26.part, body_27.part, body_28.part, body_29.part, body_30.part, body_31.part, body_32.part, body_33.part, body_34.part, body_35.part, body_36.part, body_37.part, body_38.part, body_39.part])
